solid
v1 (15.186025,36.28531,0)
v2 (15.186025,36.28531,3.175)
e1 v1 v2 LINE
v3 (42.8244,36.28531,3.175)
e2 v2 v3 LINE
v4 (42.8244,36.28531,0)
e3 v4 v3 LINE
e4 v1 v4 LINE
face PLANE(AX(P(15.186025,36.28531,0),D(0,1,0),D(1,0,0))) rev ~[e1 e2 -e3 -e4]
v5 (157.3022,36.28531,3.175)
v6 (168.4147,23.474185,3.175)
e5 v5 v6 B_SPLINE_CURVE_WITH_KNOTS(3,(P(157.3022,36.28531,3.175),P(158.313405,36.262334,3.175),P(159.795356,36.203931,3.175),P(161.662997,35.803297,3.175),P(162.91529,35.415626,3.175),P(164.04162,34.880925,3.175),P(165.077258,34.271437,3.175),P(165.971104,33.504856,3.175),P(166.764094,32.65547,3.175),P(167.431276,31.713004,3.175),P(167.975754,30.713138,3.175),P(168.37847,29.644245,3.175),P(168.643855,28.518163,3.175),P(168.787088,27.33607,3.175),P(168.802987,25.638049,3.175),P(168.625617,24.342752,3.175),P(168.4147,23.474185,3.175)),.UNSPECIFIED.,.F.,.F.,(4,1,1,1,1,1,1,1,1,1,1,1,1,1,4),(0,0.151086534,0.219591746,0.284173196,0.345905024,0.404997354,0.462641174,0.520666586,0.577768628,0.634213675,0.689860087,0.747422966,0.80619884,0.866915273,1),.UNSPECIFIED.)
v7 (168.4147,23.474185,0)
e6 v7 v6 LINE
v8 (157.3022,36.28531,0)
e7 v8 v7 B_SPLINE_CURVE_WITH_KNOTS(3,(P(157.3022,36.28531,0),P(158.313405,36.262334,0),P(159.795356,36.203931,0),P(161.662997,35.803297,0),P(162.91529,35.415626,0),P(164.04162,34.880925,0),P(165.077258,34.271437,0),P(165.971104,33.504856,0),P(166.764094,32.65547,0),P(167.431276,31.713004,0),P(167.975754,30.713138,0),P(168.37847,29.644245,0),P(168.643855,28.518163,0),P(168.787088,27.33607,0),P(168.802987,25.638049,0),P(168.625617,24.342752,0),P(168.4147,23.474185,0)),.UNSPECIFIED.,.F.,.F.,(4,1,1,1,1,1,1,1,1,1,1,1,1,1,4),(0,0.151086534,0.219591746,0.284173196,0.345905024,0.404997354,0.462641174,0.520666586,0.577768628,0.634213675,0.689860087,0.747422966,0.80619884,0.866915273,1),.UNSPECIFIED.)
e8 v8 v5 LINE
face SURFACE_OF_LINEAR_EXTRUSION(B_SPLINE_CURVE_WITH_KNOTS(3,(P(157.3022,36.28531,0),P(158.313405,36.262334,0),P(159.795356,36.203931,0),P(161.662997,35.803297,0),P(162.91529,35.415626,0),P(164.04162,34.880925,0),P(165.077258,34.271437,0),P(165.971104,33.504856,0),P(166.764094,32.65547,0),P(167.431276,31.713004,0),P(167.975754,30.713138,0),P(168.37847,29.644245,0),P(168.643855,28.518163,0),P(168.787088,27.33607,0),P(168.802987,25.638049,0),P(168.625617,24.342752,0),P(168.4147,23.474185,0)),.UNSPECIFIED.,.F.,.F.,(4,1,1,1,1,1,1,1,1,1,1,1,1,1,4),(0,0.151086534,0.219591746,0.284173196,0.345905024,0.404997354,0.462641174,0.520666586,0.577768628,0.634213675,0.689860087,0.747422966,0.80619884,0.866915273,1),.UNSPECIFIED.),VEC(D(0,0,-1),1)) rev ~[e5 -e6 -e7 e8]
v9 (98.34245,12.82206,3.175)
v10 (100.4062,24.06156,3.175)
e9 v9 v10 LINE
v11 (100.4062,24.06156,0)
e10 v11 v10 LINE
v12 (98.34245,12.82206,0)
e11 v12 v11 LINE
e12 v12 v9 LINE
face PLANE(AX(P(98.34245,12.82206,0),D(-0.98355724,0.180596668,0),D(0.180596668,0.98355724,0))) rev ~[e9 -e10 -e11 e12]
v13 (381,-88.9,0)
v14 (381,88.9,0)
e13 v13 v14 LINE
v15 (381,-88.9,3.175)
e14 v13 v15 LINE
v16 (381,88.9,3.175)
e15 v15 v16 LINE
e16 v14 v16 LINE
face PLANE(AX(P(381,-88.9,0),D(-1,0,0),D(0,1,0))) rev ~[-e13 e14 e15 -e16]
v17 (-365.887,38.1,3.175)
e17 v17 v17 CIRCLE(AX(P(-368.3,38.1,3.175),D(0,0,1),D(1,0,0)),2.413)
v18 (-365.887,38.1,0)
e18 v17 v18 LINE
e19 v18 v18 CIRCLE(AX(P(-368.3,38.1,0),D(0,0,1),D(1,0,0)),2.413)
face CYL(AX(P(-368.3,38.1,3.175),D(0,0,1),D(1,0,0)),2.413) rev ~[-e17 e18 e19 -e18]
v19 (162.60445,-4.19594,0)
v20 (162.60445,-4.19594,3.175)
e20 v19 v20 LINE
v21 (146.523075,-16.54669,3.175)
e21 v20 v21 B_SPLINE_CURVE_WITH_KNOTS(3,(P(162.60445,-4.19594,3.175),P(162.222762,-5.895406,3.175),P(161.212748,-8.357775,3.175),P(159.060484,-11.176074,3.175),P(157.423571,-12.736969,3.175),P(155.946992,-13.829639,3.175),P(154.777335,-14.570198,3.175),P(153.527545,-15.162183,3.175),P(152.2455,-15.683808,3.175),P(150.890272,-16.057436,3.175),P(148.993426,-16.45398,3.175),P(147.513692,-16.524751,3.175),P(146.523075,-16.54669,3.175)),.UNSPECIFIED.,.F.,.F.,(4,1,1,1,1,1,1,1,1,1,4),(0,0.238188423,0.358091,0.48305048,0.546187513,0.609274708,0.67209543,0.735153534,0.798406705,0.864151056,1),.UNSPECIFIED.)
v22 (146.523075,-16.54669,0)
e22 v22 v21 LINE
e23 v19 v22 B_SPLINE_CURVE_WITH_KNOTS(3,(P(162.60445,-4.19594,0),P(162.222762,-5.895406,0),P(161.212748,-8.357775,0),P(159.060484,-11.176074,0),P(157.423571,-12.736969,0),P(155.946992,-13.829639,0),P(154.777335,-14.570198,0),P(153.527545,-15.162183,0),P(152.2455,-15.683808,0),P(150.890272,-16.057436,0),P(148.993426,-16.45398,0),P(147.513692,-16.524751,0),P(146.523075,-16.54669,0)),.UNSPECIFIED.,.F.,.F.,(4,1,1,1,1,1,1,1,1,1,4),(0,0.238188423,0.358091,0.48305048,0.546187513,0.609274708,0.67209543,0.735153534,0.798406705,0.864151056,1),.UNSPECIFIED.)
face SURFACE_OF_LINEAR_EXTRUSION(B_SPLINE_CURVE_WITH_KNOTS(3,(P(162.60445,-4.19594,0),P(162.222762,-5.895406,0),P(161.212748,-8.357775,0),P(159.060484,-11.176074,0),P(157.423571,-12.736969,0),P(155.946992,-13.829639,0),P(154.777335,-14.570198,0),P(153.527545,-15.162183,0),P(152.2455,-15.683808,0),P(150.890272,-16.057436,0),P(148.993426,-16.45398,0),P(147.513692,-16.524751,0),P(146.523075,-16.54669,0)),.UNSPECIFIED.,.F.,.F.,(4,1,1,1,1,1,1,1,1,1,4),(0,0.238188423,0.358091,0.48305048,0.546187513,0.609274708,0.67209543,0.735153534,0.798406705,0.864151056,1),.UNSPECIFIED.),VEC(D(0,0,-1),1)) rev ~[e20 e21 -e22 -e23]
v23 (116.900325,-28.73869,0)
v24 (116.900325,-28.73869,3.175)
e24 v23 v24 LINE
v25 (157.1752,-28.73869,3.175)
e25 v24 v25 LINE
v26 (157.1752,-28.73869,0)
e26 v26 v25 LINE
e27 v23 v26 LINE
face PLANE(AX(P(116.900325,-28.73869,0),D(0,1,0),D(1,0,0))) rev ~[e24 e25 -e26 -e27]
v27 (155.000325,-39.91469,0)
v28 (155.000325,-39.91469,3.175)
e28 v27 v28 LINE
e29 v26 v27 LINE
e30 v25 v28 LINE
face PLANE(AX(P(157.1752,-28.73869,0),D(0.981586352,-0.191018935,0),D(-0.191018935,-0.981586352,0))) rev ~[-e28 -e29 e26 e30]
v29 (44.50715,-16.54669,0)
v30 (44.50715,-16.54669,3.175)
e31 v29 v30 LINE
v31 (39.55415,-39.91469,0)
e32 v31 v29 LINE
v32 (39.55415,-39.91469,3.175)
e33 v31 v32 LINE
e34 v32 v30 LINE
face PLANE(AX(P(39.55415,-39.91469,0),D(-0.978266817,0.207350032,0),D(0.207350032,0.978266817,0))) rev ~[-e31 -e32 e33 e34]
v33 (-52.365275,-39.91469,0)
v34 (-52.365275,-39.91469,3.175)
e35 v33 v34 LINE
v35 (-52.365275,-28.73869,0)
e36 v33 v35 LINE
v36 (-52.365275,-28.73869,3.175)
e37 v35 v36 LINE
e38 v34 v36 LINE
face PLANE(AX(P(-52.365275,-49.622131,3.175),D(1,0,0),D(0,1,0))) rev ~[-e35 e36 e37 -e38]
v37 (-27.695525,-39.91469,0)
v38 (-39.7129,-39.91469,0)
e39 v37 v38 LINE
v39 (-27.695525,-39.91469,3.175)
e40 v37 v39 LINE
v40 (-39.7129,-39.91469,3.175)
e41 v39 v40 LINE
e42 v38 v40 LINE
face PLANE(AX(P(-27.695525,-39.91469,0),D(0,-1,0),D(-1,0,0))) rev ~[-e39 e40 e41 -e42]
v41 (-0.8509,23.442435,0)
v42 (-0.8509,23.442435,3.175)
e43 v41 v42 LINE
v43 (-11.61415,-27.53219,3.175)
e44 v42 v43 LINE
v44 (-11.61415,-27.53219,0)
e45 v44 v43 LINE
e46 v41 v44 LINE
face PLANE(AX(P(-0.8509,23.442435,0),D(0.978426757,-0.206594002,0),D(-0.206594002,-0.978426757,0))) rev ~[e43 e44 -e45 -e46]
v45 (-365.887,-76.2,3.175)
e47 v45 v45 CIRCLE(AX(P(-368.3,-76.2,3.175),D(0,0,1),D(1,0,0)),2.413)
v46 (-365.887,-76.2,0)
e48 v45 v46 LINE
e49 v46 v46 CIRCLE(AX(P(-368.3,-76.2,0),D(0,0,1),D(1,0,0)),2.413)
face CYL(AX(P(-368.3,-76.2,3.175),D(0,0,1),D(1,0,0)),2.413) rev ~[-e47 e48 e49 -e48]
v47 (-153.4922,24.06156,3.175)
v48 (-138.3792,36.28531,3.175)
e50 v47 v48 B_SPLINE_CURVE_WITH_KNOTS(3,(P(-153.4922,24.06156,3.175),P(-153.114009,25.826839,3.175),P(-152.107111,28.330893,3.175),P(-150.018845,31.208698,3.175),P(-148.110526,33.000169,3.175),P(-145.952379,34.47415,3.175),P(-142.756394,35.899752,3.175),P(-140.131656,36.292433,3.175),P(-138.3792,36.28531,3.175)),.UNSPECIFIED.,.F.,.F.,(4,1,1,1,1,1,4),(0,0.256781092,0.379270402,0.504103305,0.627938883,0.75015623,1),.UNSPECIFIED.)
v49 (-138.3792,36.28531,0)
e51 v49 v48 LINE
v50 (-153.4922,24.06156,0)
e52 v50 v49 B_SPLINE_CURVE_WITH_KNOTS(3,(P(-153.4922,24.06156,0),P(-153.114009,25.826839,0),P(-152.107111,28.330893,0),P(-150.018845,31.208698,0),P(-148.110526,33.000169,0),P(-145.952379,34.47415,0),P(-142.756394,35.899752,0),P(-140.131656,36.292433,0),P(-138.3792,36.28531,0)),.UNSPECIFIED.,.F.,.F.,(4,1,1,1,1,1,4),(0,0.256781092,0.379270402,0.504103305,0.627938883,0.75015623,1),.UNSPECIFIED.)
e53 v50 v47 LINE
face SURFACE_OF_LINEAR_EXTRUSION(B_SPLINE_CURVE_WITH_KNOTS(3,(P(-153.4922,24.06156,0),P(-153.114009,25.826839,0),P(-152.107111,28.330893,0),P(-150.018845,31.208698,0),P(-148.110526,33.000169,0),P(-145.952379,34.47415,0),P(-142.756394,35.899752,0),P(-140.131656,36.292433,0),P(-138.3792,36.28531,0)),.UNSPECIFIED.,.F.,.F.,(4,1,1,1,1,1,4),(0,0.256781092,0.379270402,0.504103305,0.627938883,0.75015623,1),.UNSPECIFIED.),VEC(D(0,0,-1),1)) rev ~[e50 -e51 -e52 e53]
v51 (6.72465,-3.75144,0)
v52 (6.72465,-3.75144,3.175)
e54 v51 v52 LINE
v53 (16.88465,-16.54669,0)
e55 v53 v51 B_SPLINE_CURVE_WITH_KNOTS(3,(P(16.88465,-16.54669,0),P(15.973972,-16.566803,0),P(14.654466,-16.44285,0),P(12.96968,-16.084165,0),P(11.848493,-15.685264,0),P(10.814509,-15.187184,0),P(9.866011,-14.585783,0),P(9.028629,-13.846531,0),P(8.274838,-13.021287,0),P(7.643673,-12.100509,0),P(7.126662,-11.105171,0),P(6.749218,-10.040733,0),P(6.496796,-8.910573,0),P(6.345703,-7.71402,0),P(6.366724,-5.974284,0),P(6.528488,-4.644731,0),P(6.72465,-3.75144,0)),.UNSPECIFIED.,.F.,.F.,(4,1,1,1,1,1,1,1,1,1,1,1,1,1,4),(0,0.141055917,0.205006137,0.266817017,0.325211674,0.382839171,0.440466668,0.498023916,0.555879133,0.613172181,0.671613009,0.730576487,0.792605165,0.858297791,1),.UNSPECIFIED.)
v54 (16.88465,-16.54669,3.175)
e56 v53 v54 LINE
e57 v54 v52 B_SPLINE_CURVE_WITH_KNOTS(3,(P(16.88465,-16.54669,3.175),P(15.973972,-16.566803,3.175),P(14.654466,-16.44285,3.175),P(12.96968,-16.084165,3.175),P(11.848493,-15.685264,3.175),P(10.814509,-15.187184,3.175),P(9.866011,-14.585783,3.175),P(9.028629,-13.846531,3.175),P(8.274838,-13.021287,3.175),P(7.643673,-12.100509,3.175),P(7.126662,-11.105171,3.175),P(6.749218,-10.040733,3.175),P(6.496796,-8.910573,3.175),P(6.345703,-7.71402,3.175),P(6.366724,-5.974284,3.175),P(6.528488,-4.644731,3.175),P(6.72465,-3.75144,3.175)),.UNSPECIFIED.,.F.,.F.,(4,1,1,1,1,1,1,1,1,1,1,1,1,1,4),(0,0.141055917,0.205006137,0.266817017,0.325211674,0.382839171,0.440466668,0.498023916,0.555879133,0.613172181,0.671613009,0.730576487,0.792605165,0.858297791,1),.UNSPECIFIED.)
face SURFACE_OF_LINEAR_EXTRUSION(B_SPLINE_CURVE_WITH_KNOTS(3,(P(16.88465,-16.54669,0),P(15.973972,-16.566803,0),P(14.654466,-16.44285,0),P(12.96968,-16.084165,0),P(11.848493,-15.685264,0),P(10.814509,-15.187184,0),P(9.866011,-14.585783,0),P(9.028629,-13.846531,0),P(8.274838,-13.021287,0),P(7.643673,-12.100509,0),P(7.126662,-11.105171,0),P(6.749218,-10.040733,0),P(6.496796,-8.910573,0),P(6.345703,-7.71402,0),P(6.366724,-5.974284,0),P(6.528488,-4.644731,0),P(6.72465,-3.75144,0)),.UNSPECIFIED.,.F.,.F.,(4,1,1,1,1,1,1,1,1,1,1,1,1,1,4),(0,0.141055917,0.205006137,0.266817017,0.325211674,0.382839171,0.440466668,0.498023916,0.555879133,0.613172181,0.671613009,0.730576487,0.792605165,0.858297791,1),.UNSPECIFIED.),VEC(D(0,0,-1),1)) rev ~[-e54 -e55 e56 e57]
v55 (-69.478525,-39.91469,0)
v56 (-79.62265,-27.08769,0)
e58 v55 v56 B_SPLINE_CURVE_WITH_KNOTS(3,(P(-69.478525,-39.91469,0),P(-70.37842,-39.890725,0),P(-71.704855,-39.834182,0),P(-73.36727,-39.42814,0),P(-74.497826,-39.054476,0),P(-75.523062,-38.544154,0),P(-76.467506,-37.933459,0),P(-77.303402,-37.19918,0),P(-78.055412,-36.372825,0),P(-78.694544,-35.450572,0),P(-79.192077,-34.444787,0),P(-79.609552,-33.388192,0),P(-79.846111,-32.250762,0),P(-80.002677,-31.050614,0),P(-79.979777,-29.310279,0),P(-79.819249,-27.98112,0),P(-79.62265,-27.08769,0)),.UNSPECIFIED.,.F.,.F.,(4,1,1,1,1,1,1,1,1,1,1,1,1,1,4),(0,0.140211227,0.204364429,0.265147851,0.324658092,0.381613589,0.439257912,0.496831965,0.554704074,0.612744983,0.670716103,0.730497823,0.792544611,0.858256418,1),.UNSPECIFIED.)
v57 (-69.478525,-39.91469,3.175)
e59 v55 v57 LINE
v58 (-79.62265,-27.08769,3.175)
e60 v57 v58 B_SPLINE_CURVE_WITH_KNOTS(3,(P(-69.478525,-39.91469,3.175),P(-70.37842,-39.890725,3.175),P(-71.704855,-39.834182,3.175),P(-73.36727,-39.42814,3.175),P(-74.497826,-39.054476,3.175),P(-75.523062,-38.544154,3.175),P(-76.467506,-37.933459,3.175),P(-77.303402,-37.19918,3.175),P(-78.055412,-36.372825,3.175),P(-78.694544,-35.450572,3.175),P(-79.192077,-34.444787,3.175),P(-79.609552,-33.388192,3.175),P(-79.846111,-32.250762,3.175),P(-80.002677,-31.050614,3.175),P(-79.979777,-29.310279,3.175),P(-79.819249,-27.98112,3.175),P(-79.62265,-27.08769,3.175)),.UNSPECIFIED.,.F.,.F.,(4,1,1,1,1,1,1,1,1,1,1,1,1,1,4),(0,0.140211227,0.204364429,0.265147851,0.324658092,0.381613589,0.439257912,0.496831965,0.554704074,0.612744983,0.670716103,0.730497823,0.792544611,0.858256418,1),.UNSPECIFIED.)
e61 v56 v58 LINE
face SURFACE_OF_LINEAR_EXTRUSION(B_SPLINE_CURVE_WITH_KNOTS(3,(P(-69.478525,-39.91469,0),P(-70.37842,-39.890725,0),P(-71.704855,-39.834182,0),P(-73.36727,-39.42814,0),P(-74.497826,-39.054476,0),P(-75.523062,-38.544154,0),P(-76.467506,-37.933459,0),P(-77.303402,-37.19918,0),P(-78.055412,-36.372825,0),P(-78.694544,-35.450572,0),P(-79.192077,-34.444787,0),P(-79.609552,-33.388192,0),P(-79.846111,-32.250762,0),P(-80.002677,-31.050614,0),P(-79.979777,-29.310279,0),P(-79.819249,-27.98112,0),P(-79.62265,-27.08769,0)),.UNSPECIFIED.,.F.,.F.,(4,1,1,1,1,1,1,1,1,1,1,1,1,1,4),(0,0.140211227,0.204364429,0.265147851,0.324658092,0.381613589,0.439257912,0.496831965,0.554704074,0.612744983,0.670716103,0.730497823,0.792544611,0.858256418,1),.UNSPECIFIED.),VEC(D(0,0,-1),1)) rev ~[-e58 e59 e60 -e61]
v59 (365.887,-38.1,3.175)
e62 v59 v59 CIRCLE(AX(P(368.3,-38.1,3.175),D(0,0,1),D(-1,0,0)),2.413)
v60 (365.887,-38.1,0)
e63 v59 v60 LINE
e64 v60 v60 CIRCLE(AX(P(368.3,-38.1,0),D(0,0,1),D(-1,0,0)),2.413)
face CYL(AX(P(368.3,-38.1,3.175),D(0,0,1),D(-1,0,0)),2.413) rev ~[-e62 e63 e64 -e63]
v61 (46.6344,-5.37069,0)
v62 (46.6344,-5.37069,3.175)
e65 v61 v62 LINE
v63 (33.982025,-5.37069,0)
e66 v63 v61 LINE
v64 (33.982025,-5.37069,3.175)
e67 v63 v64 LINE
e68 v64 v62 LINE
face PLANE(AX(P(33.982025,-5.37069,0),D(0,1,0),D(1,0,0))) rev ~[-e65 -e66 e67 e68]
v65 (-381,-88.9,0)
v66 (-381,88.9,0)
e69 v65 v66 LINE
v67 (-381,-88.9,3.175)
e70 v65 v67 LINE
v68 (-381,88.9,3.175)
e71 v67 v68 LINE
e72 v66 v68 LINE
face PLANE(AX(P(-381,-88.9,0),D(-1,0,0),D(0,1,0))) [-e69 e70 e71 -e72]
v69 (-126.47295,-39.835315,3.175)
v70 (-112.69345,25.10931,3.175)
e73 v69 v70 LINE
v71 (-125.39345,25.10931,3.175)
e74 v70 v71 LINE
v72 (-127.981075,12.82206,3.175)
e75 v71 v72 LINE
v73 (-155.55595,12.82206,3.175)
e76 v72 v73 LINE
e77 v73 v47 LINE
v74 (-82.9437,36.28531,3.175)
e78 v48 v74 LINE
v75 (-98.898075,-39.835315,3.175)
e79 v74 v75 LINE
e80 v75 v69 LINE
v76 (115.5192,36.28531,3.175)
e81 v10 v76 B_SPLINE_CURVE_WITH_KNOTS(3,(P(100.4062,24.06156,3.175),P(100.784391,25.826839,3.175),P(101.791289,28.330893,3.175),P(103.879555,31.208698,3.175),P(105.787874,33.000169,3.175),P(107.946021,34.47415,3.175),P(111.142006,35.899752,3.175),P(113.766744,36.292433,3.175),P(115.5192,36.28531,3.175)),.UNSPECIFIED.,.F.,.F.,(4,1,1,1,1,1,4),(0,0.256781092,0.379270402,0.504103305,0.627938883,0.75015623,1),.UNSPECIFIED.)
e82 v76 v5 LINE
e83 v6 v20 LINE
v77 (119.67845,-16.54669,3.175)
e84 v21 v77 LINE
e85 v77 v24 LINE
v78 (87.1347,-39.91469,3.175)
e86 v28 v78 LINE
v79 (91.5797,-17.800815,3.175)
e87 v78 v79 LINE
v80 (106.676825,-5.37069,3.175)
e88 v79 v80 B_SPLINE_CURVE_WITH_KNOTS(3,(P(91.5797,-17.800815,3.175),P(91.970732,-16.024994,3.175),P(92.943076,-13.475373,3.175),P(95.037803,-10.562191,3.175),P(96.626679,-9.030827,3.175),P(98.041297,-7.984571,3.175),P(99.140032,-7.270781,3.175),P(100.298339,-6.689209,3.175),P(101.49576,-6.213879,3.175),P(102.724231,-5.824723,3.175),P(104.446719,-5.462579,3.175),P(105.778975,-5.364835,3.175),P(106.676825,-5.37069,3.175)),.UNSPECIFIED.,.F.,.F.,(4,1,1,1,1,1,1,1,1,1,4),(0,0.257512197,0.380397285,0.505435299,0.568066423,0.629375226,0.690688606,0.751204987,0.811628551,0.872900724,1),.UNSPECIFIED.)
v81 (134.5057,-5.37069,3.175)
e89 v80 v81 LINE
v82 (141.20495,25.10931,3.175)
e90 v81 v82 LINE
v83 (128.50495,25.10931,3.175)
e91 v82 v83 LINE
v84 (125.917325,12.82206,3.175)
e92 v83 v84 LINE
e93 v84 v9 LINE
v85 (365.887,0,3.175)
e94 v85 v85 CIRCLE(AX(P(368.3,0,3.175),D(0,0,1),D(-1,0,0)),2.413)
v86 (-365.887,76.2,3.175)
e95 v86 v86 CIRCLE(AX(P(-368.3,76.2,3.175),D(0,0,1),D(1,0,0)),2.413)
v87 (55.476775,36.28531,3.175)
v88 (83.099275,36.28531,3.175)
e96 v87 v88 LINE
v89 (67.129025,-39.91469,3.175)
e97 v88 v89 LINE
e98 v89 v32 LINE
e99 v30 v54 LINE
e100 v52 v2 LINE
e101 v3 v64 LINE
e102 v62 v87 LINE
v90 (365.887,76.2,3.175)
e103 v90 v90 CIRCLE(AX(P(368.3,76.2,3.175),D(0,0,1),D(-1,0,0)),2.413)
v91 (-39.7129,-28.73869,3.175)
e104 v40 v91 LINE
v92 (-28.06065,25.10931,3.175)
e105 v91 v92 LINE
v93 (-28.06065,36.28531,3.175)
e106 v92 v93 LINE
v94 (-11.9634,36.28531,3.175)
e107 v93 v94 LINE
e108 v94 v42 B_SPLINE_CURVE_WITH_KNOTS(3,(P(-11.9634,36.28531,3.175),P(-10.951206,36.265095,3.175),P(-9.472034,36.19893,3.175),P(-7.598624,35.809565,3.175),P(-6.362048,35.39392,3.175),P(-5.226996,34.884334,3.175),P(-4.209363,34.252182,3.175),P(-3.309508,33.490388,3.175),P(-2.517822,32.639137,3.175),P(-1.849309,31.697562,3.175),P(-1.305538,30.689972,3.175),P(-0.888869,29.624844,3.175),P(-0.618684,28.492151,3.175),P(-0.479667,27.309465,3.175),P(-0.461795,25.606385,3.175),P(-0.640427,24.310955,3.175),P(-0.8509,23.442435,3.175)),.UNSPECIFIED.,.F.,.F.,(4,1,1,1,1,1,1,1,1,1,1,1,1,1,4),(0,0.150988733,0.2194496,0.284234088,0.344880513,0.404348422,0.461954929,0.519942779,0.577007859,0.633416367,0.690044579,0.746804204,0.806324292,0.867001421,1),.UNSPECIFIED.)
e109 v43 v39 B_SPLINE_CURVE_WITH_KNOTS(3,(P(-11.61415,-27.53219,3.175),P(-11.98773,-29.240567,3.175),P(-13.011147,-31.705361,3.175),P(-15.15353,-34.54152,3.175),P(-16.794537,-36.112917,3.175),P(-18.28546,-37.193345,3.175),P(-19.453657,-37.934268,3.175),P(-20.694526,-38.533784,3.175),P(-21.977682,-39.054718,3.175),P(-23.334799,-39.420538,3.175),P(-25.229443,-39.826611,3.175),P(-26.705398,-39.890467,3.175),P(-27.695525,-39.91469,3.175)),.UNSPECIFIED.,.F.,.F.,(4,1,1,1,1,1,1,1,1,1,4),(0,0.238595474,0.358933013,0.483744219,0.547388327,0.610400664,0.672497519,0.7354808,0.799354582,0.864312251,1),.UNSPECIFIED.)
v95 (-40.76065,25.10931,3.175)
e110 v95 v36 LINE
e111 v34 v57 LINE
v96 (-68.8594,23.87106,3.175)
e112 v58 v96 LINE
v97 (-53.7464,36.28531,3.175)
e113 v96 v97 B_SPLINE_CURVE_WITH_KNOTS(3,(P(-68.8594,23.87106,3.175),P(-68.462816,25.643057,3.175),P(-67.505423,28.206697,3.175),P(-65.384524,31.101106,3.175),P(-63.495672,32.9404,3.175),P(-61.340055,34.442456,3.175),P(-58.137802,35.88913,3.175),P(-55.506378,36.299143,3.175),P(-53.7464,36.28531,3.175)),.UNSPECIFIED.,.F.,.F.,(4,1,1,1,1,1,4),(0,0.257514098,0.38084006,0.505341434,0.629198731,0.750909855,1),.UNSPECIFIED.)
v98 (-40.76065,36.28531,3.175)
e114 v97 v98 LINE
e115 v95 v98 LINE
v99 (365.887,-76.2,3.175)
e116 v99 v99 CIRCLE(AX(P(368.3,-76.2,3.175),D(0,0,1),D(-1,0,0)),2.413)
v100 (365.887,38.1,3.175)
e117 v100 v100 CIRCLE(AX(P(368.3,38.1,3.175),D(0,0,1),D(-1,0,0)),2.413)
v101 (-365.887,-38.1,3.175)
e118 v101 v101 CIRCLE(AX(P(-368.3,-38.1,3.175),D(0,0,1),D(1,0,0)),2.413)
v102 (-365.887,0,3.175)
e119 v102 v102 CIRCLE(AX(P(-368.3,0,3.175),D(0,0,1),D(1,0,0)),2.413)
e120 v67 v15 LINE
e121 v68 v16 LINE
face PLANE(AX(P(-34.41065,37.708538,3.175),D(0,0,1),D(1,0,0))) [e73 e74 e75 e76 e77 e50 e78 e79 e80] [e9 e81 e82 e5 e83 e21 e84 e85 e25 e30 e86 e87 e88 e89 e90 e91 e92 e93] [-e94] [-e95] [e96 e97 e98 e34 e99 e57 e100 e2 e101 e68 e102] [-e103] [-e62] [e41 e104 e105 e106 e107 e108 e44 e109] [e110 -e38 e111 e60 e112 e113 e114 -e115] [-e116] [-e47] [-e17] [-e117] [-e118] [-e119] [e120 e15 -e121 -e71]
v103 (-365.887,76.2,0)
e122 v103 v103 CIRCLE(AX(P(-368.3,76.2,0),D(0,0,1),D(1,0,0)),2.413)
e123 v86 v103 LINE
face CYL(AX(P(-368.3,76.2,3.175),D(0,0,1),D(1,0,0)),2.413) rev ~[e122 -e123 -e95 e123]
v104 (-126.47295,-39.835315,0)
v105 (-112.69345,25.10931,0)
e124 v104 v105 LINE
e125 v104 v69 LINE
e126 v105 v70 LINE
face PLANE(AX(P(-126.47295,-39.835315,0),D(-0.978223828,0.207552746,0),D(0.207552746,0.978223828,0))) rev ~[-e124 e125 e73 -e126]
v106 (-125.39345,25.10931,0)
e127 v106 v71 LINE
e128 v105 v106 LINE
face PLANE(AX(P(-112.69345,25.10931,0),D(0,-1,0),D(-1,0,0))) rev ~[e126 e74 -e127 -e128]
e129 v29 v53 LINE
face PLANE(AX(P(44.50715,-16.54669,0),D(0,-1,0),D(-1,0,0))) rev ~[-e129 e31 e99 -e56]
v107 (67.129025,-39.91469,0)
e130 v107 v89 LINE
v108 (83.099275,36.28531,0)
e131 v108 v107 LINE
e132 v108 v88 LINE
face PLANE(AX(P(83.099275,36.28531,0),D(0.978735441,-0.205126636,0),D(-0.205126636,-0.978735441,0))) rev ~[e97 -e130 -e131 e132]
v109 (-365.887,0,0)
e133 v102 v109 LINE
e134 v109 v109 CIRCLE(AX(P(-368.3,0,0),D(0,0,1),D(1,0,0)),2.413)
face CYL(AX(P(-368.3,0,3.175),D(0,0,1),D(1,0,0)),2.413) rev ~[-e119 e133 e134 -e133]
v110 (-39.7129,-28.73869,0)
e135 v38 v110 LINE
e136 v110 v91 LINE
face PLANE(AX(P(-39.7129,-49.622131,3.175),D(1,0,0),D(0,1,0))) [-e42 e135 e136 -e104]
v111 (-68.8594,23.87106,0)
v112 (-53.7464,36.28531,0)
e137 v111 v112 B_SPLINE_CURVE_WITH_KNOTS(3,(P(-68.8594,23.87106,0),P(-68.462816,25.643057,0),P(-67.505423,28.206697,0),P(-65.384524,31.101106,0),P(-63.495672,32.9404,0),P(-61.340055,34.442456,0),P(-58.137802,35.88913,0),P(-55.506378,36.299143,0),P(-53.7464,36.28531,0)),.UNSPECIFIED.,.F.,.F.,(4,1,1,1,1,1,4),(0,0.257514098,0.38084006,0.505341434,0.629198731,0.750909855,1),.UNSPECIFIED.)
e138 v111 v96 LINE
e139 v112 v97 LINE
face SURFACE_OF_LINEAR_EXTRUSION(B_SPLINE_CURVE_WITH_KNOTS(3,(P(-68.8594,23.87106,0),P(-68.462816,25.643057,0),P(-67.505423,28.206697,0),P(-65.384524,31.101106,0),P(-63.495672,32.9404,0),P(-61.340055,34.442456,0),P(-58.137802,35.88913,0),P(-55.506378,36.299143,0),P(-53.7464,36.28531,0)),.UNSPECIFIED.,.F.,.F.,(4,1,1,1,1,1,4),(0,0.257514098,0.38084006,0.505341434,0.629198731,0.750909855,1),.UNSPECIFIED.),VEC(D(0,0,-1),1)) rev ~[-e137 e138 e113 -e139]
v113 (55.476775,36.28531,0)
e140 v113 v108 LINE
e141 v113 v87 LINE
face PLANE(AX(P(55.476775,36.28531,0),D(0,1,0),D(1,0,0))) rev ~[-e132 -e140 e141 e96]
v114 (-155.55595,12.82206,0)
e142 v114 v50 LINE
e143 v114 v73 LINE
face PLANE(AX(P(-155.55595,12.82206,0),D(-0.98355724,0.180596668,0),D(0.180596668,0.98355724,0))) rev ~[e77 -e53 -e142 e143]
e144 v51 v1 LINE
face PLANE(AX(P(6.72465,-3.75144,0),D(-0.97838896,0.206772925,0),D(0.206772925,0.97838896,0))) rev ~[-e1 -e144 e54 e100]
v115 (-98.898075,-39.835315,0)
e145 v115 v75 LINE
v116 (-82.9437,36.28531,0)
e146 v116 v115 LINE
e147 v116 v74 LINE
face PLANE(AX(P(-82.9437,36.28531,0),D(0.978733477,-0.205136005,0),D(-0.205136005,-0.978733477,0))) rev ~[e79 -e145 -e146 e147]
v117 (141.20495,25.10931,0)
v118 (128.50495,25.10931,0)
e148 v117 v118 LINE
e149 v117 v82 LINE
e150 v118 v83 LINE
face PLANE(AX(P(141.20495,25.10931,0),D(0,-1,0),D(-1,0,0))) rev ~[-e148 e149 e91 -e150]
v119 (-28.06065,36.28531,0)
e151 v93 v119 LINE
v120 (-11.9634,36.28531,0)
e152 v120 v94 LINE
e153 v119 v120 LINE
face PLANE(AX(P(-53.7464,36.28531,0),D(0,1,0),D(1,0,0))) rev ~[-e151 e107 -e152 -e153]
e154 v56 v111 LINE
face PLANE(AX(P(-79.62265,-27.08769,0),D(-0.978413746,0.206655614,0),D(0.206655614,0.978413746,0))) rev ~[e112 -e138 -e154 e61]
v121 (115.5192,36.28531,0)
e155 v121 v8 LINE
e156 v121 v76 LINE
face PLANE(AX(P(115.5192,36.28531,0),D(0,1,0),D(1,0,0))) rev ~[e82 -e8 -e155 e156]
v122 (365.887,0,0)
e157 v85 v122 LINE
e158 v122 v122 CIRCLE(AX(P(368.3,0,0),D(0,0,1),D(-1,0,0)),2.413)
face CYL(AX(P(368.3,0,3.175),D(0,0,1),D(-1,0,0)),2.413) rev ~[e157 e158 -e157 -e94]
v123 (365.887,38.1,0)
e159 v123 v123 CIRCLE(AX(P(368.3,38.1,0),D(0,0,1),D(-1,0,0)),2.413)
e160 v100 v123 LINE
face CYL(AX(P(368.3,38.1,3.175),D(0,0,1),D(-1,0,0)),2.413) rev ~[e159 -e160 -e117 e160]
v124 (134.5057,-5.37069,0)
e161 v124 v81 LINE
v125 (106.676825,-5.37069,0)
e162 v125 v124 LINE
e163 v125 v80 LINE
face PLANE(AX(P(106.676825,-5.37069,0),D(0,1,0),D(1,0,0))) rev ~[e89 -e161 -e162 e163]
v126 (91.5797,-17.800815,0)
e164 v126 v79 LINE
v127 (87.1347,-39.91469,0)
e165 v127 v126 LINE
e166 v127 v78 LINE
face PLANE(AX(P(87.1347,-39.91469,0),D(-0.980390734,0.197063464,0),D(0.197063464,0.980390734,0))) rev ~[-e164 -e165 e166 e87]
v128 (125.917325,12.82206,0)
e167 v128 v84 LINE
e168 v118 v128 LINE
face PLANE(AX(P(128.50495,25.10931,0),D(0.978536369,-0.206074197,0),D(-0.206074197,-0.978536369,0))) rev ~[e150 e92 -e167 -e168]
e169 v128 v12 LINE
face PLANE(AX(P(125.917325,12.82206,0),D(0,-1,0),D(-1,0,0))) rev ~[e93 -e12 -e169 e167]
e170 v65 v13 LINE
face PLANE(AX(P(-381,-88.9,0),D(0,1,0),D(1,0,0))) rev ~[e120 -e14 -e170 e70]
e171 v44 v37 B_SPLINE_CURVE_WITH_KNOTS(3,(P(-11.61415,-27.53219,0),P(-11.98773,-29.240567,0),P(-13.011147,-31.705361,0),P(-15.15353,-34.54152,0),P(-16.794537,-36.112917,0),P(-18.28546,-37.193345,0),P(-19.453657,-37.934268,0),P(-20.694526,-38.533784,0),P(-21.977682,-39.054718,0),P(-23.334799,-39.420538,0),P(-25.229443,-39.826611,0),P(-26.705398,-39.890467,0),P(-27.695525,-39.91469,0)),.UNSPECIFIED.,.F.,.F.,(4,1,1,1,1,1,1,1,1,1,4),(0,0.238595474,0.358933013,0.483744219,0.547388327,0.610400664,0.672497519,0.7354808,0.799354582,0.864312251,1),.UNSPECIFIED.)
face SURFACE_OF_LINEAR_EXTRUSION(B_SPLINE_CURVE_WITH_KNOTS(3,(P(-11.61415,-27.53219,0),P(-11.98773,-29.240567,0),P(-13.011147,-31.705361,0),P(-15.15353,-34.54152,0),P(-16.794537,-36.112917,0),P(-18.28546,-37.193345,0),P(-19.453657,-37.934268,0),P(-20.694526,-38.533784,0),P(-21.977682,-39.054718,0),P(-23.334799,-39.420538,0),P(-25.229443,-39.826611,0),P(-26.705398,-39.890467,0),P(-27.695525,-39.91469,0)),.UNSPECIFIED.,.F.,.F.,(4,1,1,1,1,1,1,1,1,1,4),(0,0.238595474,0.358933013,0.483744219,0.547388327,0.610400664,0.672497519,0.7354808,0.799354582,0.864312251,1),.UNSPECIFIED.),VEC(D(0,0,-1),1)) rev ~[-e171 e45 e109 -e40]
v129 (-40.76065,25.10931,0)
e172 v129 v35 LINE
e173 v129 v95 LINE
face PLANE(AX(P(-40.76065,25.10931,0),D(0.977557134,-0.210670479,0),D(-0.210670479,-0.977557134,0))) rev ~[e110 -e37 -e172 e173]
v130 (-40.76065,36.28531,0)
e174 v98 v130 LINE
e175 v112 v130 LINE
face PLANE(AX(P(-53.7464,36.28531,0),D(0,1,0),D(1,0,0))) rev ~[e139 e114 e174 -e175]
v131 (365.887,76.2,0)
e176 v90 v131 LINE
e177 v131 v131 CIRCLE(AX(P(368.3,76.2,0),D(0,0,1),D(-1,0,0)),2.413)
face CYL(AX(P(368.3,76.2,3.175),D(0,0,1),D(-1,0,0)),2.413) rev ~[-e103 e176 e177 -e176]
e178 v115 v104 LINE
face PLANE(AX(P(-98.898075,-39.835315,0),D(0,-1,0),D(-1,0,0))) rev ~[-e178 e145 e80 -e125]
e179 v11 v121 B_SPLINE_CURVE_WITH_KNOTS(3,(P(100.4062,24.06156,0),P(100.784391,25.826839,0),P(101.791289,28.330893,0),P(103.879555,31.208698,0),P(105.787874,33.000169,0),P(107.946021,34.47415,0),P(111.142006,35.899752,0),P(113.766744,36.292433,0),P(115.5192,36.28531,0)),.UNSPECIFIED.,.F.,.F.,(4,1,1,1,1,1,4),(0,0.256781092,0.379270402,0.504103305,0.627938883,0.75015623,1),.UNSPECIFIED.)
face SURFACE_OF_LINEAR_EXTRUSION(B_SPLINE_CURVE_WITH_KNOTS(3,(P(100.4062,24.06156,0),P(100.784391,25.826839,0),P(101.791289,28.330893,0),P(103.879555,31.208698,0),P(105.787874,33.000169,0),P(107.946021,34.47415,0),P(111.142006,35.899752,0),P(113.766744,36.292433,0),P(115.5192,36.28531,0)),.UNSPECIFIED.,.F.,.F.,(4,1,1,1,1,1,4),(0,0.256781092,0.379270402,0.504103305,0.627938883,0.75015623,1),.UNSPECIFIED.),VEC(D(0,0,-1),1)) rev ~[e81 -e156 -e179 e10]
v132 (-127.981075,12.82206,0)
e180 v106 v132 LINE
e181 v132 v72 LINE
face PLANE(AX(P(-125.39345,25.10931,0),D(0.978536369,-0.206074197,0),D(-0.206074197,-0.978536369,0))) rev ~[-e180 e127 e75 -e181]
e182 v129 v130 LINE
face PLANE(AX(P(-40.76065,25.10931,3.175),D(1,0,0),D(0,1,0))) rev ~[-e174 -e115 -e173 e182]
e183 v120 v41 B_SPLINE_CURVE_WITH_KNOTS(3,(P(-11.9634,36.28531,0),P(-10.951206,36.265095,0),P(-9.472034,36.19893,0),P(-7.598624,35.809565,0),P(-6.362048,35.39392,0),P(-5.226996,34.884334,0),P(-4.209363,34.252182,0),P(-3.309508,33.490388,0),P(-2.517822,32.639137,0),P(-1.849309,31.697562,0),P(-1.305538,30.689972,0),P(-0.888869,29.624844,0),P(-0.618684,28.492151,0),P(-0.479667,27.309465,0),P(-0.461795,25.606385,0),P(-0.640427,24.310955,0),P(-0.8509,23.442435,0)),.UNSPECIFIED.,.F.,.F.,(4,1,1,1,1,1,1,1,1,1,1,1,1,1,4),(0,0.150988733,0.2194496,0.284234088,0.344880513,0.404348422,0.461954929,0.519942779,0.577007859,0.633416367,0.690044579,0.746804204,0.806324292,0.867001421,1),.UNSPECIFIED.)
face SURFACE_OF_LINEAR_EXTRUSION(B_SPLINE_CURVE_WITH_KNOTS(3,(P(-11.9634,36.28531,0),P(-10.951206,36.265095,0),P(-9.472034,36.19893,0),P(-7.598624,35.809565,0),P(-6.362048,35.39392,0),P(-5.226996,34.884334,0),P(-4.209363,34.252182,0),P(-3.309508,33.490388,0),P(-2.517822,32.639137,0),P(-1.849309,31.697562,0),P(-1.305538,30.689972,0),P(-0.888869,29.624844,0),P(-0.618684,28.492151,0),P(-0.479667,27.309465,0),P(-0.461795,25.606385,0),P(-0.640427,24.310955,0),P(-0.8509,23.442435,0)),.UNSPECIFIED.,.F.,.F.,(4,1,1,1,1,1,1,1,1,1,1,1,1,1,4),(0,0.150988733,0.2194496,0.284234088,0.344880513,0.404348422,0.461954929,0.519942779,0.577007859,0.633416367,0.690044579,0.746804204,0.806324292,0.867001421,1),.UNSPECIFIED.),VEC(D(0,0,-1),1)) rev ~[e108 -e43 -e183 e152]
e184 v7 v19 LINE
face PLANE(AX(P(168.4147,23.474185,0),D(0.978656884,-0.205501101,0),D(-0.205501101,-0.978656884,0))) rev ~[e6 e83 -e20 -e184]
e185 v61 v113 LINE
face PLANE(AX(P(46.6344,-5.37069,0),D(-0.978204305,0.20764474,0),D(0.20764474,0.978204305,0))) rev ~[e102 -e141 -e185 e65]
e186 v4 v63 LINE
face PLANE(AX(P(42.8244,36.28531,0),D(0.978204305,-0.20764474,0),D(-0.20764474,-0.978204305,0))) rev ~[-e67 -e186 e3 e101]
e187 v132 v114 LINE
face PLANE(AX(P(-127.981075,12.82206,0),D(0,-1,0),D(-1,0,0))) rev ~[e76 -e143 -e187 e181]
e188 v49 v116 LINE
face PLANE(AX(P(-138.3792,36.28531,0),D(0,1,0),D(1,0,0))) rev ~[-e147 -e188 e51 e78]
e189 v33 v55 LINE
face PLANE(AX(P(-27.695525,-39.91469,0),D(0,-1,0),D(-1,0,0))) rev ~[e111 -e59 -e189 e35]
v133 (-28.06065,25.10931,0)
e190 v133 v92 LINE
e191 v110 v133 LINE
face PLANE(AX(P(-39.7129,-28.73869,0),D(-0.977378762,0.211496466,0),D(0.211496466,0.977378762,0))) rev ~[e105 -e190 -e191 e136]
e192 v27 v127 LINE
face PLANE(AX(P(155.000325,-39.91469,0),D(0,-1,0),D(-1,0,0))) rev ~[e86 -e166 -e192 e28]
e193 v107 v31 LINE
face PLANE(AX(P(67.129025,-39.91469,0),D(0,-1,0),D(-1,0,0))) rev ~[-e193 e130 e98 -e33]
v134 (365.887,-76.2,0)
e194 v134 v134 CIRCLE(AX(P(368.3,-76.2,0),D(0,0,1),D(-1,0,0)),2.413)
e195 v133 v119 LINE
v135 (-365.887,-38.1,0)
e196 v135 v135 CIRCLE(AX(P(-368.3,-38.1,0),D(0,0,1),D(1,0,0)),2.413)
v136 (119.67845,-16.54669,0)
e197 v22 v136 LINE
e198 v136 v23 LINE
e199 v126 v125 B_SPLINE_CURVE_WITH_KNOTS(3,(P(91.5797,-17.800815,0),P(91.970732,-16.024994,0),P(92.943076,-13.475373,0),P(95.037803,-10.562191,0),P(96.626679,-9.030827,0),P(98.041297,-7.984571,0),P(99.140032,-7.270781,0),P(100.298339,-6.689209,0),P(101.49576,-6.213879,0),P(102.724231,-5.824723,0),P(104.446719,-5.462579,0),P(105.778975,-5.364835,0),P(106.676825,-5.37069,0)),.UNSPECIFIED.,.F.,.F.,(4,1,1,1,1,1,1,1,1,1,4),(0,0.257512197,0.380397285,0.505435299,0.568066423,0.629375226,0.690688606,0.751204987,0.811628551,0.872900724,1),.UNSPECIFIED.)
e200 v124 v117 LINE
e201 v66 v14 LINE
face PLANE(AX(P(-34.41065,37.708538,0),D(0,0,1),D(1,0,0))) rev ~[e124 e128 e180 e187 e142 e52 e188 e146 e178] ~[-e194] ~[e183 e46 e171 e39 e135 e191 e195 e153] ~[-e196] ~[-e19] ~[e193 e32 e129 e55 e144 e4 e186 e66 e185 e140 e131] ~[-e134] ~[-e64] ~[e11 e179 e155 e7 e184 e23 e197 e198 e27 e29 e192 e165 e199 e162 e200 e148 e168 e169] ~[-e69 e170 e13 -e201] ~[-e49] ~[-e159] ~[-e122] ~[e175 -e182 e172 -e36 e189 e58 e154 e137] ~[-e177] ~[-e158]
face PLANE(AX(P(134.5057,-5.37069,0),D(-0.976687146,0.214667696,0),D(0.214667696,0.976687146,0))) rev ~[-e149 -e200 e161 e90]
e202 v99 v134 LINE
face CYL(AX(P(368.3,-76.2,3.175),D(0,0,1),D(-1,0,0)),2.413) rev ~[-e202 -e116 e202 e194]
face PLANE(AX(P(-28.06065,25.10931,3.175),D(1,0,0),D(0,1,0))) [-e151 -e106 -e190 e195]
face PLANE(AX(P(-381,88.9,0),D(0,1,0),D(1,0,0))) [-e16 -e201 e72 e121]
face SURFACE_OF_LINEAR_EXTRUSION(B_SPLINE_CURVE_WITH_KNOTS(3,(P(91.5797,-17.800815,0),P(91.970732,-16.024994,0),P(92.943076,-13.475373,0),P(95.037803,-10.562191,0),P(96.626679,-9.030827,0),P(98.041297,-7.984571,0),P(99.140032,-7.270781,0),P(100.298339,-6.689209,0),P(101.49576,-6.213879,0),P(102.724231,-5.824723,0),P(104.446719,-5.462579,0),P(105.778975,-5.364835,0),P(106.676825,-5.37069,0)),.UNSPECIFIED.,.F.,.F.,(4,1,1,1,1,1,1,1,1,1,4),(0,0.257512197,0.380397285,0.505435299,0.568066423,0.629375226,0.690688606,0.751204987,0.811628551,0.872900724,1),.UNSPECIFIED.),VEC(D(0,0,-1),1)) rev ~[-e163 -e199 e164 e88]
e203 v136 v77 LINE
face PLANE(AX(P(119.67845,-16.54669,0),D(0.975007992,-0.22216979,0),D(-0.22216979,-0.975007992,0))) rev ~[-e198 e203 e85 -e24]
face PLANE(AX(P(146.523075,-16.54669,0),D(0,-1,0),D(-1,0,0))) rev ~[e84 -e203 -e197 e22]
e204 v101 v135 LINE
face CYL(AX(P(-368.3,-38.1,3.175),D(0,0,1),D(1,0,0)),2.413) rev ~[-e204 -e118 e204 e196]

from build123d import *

# Parameters (mm, degrees)
SKETCH1_W             = 762
SKETCH1_H             = 177.8
BOSS_EXTRUDE1_DEPTH   = 3.175
BOSS_EXTRUDE1_2_DEPTH = 3.175
SKETCH2_W             = 12.7
SKETCH2_H             = 25.198455275
SKETCH2_W_2           = 12.652375
SKETCH2_H_2           = 20.883441122
BOSS_EXTRUDE2_DEPTH   = 3.175
SKETCH3_R             = 2.413
CUT_EXTRUDE1_DEPTH    = 392.247096756


with BuildPart() as part:
    # Sketch1 → Boss-Extrude1 (new body)
    with BuildSketch(Plane.XY):
        Rectangle(SKETCH1_W, SKETCH1_H)
        with BuildLine():
            Line((-98.898075, -39.835315096), (-126.47295, -39.835315096))
            Line((-126.47295, -39.835315096), (-112.69345, 25.109309904))
            Line((-112.69345, 25.109309904), (-125.39345, 25.109309904))
            Line((-125.39345, 25.109309904), (-127.981075, 12.822059904))
            Line((-127.981075, 12.822059904), (-155.55595, 12.822059904))
            Line((-155.55595, 12.822059904), (-153.4922, 24.061559904))
            add(Edge.make_bspline(
                [(-153.4922, 24.061559904), (-153.114009041, 25.826838845), (-152.107111159, 28.330892524), (-150.018844738, 31.208697921), (-148.110526346, 33.000169059), (-145.952379495, 34.474150169), (-142.756393957, 35.899752111), (-140.131656162, 36.29243254), (-138.3792, 36.285309904)],
                knots=[0, 0, 0, 0, 0.256781092, 0.379270402, 0.504103305, 0.627938883, 0.75015623, 1, 1, 1, 1], degree=3))
            Line((-138.3792, 36.285309904), (-82.9437, 36.285309904))
            Line((-82.9437, 36.285309904), (-98.898075, -39.835315096))
        make_face(mode=Mode.SUBTRACT)
        with BuildLine():
            Line((-27.695525, -39.914690096), (-69.478525, -39.914690096))
            add(Edge.make_bspline(
                [(-69.478525, -39.914690096), (-70.378419778, -39.890724934), (-71.704855295, -39.834182103), (-73.367269691, -39.428139507), (-74.4978262, -39.054475963), (-75.523062052, -38.544153837), (-76.467505593, -37.933458517), (-77.303402375, -37.199179804), (-78.055411522, -36.372825302), (-78.694544311, -35.450572391), (-79.192076882, -34.444787097), (-79.609552025, -33.388191923), (-79.846110554, -32.250761591), (-80.002676754, -31.050614438), (-79.979776999, -29.310279003), (-79.819248509, -27.981119838), (-79.62265, -27.087690096)],
                knots=[0, 0, 0, 0, 0.140211227, 0.204364429, 0.265147851, 0.324658092, 0.381613589, 0.439257912, 0.496831965, 0.554704074, 0.612744983, 0.670716103, 0.730497823, 0.792544611, 0.858256418, 1, 1, 1, 1], degree=3))
            Line((-79.62265, -27.087690096), (-68.8594, 23.871059904))
            add(Edge.make_bspline(
                [(-68.8594, 23.871059904), (-68.462815939, 25.643057301), (-67.505422501, 28.206697467), (-65.384523981, 31.101105561), (-63.495671972, 32.940400282), (-61.340054695, 34.44245551), (-58.13780239, 35.889129542), (-55.506378001, 36.299143413), (-53.7464, 36.285309904)],
                knots=[0, 0, 0, 0, 0.257514098, 0.38084006, 0.505341434, 0.629198731, 0.750909855, 1, 1, 1, 1], degree=3))
            Line((-53.7464, 36.285309904), (-11.9634, 36.285309904))
            add(Edge.make_bspline(
                [(-11.9634, 36.285309904), (-10.951206406, 36.265095396), (-9.472034389, 36.198930496), (-7.598624422, 35.809565279), (-6.362047596, 35.393919508), (-5.226995923, 34.884334314), (-4.209362568, 34.252182113), (-3.309508264, 33.490388009), (-2.517821843, 32.639137402), (-1.849309358, 31.697562392), (-1.305537987, 30.689972363), (-0.888869485, 29.624844052), (-0.618683845, 28.492151076), (-0.479667068, 27.309465242), (-0.461795302, 25.606385314), (-0.640427295, 24.310954775), (-0.8509, 23.442434904)],
                knots=[0, 0, 0, 0, 0.150988733, 0.2194496, 0.284234088, 0.344880513, 0.404348422, 0.461954929, 0.519942779, 0.577007859, 0.633416367, 0.690044579, 0.746804204, 0.806324292, 0.867001421, 1, 1, 1, 1], degree=3))
            Line((-0.8509, 23.442434904), (-11.61415, -27.532190096))
            add(Edge.make_bspline(
                [(-11.61415, -27.532190096), (-11.987729804, -29.240567183), (-13.011146829, -31.705361087), (-15.153529873, -34.541520304), (-16.794536644, -36.112916543), (-18.285460276, -37.193344942), (-19.453657133, -37.934268454), (-20.694525744, -38.533784236), (-21.977681798, -39.054718418), (-23.334799484, -39.420538407), (-25.229442597, -39.826610751), (-26.705398031, -39.890467006), (-27.695525, -39.914690096)],
                knots=[0, 0, 0, 0, 0.238595474, 0.358933013, 0.483744219, 0.547388327, 0.610400664, 0.672497519, 0.7354808, 0.799354582, 0.864312251, 1, 1, 1, 1], degree=3))
        make_face(mode=Mode.SUBTRACT)
        with BuildLine():
            Line((42.8244, 36.285309904), (33.982025, -5.370690096))
            Line((33.982025, -5.370690096), (46.6344, -5.370690096))
            Line((46.6344, -5.370690096), (55.476775, 36.285309904))
            Line((55.476775, 36.285309904), (83.099275, 36.285309904))
            Line((83.099275, 36.285309904), (67.129025, -39.914690096))
            Line((67.129025, -39.914690096), (39.55415, -39.914690096))
            Line((39.55415, -39.914690096), (44.50715, -16.546690096))
            Line((44.50715, -16.546690096), (16.88465, -16.546690096))
            add(Edge.make_bspline(
                [(16.88465, -16.546690096), (15.97397184, -16.566803466), (14.654465721, -16.442849527), (12.969679896, -16.084165205), (11.848493473, -15.685263746), (10.814508554, -15.187184105), (9.866010852, -14.585783269), (9.028628771, -13.846530809), (8.274838484, -13.021287426), (7.643672663, -12.100509132), (7.126661545, -11.105170566), (6.749218091, -10.040732714), (6.496795936, -8.910572682), (6.345702881, -7.71402033), (6.366723836, -5.974283719), (6.528488375, -4.644730591), (6.72465, -3.751440096)],
                knots=[0, 0, 0, 0, 0.141055917, 0.205006137, 0.266817017, 0.325211674, 0.382839171, 0.440466668, 0.498023916, 0.555879133, 0.613172181, 0.671613009, 0.730576487, 0.792605165, 0.858297791, 1, 1, 1, 1], degree=3))
            Line((6.72465, -3.751440096), (15.186025, 36.285309904))
            Line((15.186025, 36.285309904), (42.8244, 36.285309904))
        make_face(mode=Mode.SUBTRACT)
        with BuildLine():
            Line((116.900325, -28.738690096), (157.1752, -28.738690096))
            Line((157.1752, -28.738690096), (155.000325, -39.914690096))
            Line((155.000325, -39.914690096), (87.1347, -39.914690096))
            Line((87.1347, -39.914690096), (91.5797, -17.800815096))
            add(Edge.make_bspline(
                [(91.5797, -17.800815096), (91.970731994, -16.024994145), (92.943076158, -13.475373477), (95.037802627, -10.562190947), (96.626678786, -9.030826572), (98.04129727, -7.984571288), (99.140031696, -7.270780811), (100.298338787, -6.689209352), (101.495760204, -6.213878956), (102.724230789, -5.824722646), (104.446719435, -5.462579309), (105.778975302, -5.364834977), (106.676825, -5.370690096)],
                knots=[0, 0, 0, 0, 0.257512197, 0.380397285, 0.505435299, 0.568066423, 0.629375226, 0.690688606, 0.751204987, 0.811628551, 0.872900724, 1, 1, 1, 1], degree=3))
            Line((106.676825, -5.370690096), (134.5057, -5.370690096))
            Line((134.5057, -5.370690096), (141.20495, 25.109309904))
            Line((141.20495, 25.109309904), (128.50495, 25.109309904))
            Line((128.50495, 25.109309904), (125.917325, 12.822059904))
            Line((125.917325, 12.822059904), (98.34245, 12.822059904))
            Line((98.34245, 12.822059904), (100.4062, 24.061559904))
            add(Edge.make_bspline(
                [(100.4062, 24.061559904), (100.784390959, 25.826838845), (101.791288841, 28.330892524), (103.879555262, 31.208697921), (105.787873654, 33.000169059), (107.946020505, 34.474150169), (111.142006043, 35.899752111), (113.766743838, 36.29243254), (115.5192, 36.285309904)],
                knots=[0, 0, 0, 0, 0.256781092, 0.379270402, 0.504103305, 0.627938883, 0.75015623, 1, 1, 1, 1], degree=3))
            Line((115.5192, 36.285309904), (157.3022, 36.285309904))
            add(Edge.make_bspline(
                [(157.3022, 36.285309904), (158.313404759, 36.262334312), (159.795356307, 36.203930585), (161.662996805, 35.803296989), (162.915290146, 35.415626042), (164.04161951, 34.88092493), (165.077257642, 34.2714369), (165.971103509, 33.504855616), (166.764093589, 32.655469989), (167.431275951, 31.713004044), (167.97575393, 30.713137791), (168.378470101, 29.644245275), (168.643854599, 28.518162675), (168.787088091, 27.33606961), (168.802987002, 25.638048994), (168.625616664, 24.342751641), (168.4147, 23.474184904)],
                knots=[0, 0, 0, 0, 0.151086534, 0.219591746, 0.284173196, 0.345905024, 0.404997354, 0.462641174, 0.520666586, 0.577768628, 0.634213675, 0.689860087, 0.747422966, 0.80619884, 0.866915273, 1, 1, 1, 1], degree=3))
            Line((168.4147, 23.474184904), (162.60445, -4.195940096))
            add(Edge.make_bspline(
                [(162.60445, -4.195940096), (162.222762109, -5.895405939), (161.212748067, -8.357775045), (159.060484323, -11.176073851), (157.423570654, -12.736969042), (155.946992387, -13.829638667), (154.777335182, -14.570198188), (153.527544548, -15.162182906), (152.245499952, -15.683808477), (150.890272205, -16.057436379), (148.993426207, -16.45398034), (147.513691649, -16.524751422), (146.523075, -16.546690096)],
                knots=[0, 0, 0, 0, 0.238188423, 0.358091, 0.48305048, 0.546187513, 0.609274708, 0.67209543, 0.735153534, 0.798406705, 0.864151056, 1, 1, 1, 1], degree=3))
            Line((146.523075, -16.546690096), (119.67845, -16.546690096))
            Line((119.67845, -16.546690096), (116.900325, -28.738690096))
        make_face(mode=Mode.SUBTRACT)
    extrude(amount=BOSS_EXTRUDE1_DEPTH)



with BuildPart() as body_2:
    # Sketch1 → Boss-Extrude1 2 (new body)
    with BuildSketch(Plane.XY):
        Polygon((-40.76065, 25.109309904), (-52.365275, -28.738690096), (-39.7129, -28.738690096), (-28.06065, 25.109309904), align=None)
    extrude(amount=BOSS_EXTRUDE1_2_DEPTH)


with BuildPart() as part_1:
    add(part.part)

    add(body_2.part)  # Boss-Extrude2 merges body 2
    # Sketch2 → Boss-Extrude2 (add)
    with BuildSketch(Plane.XY.offset(3.175)):
        with Locations((-34.41065, 37.708537542)):
            Rectangle(SKETCH2_W, SKETCH2_H)
        with Locations((-46.0390875, -39.180410657)):
            Rectangle(SKETCH2_W_2, SKETCH2_H_2)
    extrude(amount=-BOSS_EXTRUDE2_DEPTH)

    # Sketch3 → Cut-Extrude1 (cut, through all)
    with BuildSketch(Plane.XY.offset(3.175)):
        with Locations((-368.3, 76.2)):
            Circle(SKETCH3_R)
        with Locations((-368.3, 38.1)):
            Circle(SKETCH3_R)
        with Locations((-368.3, 0)):
            Circle(SKETCH3_R)
        with Locations((-368.3, -38.1)):
            Circle(SKETCH3_R)
        with Locations((-368.3, -76.2)):
            Circle(SKETCH3_R)
        with Locations(Location((368.3, -76.2, 0), (0, 0, 180))):
            Circle(SKETCH3_R)
        with Locations(Location((368.3, -38.1, 0), (0, 0, 180))):
            Circle(SKETCH3_R)
        with Locations(Location((368.3, 0, 0), (0, 0, 180))):
            Circle(SKETCH3_R)
        with Locations(Location((368.3, 38.1, 0), (0, 0, 180))):
            Circle(SKETCH3_R)
        with Locations(Location((368.3, 76.2, 0), (0, 0, 180))):
            Circle(SKETCH3_R)
    extrude(amount=-CUT_EXTRUDE1_DEPTH, mode=Mode.SUBTRACT)


solid = part_1.part
